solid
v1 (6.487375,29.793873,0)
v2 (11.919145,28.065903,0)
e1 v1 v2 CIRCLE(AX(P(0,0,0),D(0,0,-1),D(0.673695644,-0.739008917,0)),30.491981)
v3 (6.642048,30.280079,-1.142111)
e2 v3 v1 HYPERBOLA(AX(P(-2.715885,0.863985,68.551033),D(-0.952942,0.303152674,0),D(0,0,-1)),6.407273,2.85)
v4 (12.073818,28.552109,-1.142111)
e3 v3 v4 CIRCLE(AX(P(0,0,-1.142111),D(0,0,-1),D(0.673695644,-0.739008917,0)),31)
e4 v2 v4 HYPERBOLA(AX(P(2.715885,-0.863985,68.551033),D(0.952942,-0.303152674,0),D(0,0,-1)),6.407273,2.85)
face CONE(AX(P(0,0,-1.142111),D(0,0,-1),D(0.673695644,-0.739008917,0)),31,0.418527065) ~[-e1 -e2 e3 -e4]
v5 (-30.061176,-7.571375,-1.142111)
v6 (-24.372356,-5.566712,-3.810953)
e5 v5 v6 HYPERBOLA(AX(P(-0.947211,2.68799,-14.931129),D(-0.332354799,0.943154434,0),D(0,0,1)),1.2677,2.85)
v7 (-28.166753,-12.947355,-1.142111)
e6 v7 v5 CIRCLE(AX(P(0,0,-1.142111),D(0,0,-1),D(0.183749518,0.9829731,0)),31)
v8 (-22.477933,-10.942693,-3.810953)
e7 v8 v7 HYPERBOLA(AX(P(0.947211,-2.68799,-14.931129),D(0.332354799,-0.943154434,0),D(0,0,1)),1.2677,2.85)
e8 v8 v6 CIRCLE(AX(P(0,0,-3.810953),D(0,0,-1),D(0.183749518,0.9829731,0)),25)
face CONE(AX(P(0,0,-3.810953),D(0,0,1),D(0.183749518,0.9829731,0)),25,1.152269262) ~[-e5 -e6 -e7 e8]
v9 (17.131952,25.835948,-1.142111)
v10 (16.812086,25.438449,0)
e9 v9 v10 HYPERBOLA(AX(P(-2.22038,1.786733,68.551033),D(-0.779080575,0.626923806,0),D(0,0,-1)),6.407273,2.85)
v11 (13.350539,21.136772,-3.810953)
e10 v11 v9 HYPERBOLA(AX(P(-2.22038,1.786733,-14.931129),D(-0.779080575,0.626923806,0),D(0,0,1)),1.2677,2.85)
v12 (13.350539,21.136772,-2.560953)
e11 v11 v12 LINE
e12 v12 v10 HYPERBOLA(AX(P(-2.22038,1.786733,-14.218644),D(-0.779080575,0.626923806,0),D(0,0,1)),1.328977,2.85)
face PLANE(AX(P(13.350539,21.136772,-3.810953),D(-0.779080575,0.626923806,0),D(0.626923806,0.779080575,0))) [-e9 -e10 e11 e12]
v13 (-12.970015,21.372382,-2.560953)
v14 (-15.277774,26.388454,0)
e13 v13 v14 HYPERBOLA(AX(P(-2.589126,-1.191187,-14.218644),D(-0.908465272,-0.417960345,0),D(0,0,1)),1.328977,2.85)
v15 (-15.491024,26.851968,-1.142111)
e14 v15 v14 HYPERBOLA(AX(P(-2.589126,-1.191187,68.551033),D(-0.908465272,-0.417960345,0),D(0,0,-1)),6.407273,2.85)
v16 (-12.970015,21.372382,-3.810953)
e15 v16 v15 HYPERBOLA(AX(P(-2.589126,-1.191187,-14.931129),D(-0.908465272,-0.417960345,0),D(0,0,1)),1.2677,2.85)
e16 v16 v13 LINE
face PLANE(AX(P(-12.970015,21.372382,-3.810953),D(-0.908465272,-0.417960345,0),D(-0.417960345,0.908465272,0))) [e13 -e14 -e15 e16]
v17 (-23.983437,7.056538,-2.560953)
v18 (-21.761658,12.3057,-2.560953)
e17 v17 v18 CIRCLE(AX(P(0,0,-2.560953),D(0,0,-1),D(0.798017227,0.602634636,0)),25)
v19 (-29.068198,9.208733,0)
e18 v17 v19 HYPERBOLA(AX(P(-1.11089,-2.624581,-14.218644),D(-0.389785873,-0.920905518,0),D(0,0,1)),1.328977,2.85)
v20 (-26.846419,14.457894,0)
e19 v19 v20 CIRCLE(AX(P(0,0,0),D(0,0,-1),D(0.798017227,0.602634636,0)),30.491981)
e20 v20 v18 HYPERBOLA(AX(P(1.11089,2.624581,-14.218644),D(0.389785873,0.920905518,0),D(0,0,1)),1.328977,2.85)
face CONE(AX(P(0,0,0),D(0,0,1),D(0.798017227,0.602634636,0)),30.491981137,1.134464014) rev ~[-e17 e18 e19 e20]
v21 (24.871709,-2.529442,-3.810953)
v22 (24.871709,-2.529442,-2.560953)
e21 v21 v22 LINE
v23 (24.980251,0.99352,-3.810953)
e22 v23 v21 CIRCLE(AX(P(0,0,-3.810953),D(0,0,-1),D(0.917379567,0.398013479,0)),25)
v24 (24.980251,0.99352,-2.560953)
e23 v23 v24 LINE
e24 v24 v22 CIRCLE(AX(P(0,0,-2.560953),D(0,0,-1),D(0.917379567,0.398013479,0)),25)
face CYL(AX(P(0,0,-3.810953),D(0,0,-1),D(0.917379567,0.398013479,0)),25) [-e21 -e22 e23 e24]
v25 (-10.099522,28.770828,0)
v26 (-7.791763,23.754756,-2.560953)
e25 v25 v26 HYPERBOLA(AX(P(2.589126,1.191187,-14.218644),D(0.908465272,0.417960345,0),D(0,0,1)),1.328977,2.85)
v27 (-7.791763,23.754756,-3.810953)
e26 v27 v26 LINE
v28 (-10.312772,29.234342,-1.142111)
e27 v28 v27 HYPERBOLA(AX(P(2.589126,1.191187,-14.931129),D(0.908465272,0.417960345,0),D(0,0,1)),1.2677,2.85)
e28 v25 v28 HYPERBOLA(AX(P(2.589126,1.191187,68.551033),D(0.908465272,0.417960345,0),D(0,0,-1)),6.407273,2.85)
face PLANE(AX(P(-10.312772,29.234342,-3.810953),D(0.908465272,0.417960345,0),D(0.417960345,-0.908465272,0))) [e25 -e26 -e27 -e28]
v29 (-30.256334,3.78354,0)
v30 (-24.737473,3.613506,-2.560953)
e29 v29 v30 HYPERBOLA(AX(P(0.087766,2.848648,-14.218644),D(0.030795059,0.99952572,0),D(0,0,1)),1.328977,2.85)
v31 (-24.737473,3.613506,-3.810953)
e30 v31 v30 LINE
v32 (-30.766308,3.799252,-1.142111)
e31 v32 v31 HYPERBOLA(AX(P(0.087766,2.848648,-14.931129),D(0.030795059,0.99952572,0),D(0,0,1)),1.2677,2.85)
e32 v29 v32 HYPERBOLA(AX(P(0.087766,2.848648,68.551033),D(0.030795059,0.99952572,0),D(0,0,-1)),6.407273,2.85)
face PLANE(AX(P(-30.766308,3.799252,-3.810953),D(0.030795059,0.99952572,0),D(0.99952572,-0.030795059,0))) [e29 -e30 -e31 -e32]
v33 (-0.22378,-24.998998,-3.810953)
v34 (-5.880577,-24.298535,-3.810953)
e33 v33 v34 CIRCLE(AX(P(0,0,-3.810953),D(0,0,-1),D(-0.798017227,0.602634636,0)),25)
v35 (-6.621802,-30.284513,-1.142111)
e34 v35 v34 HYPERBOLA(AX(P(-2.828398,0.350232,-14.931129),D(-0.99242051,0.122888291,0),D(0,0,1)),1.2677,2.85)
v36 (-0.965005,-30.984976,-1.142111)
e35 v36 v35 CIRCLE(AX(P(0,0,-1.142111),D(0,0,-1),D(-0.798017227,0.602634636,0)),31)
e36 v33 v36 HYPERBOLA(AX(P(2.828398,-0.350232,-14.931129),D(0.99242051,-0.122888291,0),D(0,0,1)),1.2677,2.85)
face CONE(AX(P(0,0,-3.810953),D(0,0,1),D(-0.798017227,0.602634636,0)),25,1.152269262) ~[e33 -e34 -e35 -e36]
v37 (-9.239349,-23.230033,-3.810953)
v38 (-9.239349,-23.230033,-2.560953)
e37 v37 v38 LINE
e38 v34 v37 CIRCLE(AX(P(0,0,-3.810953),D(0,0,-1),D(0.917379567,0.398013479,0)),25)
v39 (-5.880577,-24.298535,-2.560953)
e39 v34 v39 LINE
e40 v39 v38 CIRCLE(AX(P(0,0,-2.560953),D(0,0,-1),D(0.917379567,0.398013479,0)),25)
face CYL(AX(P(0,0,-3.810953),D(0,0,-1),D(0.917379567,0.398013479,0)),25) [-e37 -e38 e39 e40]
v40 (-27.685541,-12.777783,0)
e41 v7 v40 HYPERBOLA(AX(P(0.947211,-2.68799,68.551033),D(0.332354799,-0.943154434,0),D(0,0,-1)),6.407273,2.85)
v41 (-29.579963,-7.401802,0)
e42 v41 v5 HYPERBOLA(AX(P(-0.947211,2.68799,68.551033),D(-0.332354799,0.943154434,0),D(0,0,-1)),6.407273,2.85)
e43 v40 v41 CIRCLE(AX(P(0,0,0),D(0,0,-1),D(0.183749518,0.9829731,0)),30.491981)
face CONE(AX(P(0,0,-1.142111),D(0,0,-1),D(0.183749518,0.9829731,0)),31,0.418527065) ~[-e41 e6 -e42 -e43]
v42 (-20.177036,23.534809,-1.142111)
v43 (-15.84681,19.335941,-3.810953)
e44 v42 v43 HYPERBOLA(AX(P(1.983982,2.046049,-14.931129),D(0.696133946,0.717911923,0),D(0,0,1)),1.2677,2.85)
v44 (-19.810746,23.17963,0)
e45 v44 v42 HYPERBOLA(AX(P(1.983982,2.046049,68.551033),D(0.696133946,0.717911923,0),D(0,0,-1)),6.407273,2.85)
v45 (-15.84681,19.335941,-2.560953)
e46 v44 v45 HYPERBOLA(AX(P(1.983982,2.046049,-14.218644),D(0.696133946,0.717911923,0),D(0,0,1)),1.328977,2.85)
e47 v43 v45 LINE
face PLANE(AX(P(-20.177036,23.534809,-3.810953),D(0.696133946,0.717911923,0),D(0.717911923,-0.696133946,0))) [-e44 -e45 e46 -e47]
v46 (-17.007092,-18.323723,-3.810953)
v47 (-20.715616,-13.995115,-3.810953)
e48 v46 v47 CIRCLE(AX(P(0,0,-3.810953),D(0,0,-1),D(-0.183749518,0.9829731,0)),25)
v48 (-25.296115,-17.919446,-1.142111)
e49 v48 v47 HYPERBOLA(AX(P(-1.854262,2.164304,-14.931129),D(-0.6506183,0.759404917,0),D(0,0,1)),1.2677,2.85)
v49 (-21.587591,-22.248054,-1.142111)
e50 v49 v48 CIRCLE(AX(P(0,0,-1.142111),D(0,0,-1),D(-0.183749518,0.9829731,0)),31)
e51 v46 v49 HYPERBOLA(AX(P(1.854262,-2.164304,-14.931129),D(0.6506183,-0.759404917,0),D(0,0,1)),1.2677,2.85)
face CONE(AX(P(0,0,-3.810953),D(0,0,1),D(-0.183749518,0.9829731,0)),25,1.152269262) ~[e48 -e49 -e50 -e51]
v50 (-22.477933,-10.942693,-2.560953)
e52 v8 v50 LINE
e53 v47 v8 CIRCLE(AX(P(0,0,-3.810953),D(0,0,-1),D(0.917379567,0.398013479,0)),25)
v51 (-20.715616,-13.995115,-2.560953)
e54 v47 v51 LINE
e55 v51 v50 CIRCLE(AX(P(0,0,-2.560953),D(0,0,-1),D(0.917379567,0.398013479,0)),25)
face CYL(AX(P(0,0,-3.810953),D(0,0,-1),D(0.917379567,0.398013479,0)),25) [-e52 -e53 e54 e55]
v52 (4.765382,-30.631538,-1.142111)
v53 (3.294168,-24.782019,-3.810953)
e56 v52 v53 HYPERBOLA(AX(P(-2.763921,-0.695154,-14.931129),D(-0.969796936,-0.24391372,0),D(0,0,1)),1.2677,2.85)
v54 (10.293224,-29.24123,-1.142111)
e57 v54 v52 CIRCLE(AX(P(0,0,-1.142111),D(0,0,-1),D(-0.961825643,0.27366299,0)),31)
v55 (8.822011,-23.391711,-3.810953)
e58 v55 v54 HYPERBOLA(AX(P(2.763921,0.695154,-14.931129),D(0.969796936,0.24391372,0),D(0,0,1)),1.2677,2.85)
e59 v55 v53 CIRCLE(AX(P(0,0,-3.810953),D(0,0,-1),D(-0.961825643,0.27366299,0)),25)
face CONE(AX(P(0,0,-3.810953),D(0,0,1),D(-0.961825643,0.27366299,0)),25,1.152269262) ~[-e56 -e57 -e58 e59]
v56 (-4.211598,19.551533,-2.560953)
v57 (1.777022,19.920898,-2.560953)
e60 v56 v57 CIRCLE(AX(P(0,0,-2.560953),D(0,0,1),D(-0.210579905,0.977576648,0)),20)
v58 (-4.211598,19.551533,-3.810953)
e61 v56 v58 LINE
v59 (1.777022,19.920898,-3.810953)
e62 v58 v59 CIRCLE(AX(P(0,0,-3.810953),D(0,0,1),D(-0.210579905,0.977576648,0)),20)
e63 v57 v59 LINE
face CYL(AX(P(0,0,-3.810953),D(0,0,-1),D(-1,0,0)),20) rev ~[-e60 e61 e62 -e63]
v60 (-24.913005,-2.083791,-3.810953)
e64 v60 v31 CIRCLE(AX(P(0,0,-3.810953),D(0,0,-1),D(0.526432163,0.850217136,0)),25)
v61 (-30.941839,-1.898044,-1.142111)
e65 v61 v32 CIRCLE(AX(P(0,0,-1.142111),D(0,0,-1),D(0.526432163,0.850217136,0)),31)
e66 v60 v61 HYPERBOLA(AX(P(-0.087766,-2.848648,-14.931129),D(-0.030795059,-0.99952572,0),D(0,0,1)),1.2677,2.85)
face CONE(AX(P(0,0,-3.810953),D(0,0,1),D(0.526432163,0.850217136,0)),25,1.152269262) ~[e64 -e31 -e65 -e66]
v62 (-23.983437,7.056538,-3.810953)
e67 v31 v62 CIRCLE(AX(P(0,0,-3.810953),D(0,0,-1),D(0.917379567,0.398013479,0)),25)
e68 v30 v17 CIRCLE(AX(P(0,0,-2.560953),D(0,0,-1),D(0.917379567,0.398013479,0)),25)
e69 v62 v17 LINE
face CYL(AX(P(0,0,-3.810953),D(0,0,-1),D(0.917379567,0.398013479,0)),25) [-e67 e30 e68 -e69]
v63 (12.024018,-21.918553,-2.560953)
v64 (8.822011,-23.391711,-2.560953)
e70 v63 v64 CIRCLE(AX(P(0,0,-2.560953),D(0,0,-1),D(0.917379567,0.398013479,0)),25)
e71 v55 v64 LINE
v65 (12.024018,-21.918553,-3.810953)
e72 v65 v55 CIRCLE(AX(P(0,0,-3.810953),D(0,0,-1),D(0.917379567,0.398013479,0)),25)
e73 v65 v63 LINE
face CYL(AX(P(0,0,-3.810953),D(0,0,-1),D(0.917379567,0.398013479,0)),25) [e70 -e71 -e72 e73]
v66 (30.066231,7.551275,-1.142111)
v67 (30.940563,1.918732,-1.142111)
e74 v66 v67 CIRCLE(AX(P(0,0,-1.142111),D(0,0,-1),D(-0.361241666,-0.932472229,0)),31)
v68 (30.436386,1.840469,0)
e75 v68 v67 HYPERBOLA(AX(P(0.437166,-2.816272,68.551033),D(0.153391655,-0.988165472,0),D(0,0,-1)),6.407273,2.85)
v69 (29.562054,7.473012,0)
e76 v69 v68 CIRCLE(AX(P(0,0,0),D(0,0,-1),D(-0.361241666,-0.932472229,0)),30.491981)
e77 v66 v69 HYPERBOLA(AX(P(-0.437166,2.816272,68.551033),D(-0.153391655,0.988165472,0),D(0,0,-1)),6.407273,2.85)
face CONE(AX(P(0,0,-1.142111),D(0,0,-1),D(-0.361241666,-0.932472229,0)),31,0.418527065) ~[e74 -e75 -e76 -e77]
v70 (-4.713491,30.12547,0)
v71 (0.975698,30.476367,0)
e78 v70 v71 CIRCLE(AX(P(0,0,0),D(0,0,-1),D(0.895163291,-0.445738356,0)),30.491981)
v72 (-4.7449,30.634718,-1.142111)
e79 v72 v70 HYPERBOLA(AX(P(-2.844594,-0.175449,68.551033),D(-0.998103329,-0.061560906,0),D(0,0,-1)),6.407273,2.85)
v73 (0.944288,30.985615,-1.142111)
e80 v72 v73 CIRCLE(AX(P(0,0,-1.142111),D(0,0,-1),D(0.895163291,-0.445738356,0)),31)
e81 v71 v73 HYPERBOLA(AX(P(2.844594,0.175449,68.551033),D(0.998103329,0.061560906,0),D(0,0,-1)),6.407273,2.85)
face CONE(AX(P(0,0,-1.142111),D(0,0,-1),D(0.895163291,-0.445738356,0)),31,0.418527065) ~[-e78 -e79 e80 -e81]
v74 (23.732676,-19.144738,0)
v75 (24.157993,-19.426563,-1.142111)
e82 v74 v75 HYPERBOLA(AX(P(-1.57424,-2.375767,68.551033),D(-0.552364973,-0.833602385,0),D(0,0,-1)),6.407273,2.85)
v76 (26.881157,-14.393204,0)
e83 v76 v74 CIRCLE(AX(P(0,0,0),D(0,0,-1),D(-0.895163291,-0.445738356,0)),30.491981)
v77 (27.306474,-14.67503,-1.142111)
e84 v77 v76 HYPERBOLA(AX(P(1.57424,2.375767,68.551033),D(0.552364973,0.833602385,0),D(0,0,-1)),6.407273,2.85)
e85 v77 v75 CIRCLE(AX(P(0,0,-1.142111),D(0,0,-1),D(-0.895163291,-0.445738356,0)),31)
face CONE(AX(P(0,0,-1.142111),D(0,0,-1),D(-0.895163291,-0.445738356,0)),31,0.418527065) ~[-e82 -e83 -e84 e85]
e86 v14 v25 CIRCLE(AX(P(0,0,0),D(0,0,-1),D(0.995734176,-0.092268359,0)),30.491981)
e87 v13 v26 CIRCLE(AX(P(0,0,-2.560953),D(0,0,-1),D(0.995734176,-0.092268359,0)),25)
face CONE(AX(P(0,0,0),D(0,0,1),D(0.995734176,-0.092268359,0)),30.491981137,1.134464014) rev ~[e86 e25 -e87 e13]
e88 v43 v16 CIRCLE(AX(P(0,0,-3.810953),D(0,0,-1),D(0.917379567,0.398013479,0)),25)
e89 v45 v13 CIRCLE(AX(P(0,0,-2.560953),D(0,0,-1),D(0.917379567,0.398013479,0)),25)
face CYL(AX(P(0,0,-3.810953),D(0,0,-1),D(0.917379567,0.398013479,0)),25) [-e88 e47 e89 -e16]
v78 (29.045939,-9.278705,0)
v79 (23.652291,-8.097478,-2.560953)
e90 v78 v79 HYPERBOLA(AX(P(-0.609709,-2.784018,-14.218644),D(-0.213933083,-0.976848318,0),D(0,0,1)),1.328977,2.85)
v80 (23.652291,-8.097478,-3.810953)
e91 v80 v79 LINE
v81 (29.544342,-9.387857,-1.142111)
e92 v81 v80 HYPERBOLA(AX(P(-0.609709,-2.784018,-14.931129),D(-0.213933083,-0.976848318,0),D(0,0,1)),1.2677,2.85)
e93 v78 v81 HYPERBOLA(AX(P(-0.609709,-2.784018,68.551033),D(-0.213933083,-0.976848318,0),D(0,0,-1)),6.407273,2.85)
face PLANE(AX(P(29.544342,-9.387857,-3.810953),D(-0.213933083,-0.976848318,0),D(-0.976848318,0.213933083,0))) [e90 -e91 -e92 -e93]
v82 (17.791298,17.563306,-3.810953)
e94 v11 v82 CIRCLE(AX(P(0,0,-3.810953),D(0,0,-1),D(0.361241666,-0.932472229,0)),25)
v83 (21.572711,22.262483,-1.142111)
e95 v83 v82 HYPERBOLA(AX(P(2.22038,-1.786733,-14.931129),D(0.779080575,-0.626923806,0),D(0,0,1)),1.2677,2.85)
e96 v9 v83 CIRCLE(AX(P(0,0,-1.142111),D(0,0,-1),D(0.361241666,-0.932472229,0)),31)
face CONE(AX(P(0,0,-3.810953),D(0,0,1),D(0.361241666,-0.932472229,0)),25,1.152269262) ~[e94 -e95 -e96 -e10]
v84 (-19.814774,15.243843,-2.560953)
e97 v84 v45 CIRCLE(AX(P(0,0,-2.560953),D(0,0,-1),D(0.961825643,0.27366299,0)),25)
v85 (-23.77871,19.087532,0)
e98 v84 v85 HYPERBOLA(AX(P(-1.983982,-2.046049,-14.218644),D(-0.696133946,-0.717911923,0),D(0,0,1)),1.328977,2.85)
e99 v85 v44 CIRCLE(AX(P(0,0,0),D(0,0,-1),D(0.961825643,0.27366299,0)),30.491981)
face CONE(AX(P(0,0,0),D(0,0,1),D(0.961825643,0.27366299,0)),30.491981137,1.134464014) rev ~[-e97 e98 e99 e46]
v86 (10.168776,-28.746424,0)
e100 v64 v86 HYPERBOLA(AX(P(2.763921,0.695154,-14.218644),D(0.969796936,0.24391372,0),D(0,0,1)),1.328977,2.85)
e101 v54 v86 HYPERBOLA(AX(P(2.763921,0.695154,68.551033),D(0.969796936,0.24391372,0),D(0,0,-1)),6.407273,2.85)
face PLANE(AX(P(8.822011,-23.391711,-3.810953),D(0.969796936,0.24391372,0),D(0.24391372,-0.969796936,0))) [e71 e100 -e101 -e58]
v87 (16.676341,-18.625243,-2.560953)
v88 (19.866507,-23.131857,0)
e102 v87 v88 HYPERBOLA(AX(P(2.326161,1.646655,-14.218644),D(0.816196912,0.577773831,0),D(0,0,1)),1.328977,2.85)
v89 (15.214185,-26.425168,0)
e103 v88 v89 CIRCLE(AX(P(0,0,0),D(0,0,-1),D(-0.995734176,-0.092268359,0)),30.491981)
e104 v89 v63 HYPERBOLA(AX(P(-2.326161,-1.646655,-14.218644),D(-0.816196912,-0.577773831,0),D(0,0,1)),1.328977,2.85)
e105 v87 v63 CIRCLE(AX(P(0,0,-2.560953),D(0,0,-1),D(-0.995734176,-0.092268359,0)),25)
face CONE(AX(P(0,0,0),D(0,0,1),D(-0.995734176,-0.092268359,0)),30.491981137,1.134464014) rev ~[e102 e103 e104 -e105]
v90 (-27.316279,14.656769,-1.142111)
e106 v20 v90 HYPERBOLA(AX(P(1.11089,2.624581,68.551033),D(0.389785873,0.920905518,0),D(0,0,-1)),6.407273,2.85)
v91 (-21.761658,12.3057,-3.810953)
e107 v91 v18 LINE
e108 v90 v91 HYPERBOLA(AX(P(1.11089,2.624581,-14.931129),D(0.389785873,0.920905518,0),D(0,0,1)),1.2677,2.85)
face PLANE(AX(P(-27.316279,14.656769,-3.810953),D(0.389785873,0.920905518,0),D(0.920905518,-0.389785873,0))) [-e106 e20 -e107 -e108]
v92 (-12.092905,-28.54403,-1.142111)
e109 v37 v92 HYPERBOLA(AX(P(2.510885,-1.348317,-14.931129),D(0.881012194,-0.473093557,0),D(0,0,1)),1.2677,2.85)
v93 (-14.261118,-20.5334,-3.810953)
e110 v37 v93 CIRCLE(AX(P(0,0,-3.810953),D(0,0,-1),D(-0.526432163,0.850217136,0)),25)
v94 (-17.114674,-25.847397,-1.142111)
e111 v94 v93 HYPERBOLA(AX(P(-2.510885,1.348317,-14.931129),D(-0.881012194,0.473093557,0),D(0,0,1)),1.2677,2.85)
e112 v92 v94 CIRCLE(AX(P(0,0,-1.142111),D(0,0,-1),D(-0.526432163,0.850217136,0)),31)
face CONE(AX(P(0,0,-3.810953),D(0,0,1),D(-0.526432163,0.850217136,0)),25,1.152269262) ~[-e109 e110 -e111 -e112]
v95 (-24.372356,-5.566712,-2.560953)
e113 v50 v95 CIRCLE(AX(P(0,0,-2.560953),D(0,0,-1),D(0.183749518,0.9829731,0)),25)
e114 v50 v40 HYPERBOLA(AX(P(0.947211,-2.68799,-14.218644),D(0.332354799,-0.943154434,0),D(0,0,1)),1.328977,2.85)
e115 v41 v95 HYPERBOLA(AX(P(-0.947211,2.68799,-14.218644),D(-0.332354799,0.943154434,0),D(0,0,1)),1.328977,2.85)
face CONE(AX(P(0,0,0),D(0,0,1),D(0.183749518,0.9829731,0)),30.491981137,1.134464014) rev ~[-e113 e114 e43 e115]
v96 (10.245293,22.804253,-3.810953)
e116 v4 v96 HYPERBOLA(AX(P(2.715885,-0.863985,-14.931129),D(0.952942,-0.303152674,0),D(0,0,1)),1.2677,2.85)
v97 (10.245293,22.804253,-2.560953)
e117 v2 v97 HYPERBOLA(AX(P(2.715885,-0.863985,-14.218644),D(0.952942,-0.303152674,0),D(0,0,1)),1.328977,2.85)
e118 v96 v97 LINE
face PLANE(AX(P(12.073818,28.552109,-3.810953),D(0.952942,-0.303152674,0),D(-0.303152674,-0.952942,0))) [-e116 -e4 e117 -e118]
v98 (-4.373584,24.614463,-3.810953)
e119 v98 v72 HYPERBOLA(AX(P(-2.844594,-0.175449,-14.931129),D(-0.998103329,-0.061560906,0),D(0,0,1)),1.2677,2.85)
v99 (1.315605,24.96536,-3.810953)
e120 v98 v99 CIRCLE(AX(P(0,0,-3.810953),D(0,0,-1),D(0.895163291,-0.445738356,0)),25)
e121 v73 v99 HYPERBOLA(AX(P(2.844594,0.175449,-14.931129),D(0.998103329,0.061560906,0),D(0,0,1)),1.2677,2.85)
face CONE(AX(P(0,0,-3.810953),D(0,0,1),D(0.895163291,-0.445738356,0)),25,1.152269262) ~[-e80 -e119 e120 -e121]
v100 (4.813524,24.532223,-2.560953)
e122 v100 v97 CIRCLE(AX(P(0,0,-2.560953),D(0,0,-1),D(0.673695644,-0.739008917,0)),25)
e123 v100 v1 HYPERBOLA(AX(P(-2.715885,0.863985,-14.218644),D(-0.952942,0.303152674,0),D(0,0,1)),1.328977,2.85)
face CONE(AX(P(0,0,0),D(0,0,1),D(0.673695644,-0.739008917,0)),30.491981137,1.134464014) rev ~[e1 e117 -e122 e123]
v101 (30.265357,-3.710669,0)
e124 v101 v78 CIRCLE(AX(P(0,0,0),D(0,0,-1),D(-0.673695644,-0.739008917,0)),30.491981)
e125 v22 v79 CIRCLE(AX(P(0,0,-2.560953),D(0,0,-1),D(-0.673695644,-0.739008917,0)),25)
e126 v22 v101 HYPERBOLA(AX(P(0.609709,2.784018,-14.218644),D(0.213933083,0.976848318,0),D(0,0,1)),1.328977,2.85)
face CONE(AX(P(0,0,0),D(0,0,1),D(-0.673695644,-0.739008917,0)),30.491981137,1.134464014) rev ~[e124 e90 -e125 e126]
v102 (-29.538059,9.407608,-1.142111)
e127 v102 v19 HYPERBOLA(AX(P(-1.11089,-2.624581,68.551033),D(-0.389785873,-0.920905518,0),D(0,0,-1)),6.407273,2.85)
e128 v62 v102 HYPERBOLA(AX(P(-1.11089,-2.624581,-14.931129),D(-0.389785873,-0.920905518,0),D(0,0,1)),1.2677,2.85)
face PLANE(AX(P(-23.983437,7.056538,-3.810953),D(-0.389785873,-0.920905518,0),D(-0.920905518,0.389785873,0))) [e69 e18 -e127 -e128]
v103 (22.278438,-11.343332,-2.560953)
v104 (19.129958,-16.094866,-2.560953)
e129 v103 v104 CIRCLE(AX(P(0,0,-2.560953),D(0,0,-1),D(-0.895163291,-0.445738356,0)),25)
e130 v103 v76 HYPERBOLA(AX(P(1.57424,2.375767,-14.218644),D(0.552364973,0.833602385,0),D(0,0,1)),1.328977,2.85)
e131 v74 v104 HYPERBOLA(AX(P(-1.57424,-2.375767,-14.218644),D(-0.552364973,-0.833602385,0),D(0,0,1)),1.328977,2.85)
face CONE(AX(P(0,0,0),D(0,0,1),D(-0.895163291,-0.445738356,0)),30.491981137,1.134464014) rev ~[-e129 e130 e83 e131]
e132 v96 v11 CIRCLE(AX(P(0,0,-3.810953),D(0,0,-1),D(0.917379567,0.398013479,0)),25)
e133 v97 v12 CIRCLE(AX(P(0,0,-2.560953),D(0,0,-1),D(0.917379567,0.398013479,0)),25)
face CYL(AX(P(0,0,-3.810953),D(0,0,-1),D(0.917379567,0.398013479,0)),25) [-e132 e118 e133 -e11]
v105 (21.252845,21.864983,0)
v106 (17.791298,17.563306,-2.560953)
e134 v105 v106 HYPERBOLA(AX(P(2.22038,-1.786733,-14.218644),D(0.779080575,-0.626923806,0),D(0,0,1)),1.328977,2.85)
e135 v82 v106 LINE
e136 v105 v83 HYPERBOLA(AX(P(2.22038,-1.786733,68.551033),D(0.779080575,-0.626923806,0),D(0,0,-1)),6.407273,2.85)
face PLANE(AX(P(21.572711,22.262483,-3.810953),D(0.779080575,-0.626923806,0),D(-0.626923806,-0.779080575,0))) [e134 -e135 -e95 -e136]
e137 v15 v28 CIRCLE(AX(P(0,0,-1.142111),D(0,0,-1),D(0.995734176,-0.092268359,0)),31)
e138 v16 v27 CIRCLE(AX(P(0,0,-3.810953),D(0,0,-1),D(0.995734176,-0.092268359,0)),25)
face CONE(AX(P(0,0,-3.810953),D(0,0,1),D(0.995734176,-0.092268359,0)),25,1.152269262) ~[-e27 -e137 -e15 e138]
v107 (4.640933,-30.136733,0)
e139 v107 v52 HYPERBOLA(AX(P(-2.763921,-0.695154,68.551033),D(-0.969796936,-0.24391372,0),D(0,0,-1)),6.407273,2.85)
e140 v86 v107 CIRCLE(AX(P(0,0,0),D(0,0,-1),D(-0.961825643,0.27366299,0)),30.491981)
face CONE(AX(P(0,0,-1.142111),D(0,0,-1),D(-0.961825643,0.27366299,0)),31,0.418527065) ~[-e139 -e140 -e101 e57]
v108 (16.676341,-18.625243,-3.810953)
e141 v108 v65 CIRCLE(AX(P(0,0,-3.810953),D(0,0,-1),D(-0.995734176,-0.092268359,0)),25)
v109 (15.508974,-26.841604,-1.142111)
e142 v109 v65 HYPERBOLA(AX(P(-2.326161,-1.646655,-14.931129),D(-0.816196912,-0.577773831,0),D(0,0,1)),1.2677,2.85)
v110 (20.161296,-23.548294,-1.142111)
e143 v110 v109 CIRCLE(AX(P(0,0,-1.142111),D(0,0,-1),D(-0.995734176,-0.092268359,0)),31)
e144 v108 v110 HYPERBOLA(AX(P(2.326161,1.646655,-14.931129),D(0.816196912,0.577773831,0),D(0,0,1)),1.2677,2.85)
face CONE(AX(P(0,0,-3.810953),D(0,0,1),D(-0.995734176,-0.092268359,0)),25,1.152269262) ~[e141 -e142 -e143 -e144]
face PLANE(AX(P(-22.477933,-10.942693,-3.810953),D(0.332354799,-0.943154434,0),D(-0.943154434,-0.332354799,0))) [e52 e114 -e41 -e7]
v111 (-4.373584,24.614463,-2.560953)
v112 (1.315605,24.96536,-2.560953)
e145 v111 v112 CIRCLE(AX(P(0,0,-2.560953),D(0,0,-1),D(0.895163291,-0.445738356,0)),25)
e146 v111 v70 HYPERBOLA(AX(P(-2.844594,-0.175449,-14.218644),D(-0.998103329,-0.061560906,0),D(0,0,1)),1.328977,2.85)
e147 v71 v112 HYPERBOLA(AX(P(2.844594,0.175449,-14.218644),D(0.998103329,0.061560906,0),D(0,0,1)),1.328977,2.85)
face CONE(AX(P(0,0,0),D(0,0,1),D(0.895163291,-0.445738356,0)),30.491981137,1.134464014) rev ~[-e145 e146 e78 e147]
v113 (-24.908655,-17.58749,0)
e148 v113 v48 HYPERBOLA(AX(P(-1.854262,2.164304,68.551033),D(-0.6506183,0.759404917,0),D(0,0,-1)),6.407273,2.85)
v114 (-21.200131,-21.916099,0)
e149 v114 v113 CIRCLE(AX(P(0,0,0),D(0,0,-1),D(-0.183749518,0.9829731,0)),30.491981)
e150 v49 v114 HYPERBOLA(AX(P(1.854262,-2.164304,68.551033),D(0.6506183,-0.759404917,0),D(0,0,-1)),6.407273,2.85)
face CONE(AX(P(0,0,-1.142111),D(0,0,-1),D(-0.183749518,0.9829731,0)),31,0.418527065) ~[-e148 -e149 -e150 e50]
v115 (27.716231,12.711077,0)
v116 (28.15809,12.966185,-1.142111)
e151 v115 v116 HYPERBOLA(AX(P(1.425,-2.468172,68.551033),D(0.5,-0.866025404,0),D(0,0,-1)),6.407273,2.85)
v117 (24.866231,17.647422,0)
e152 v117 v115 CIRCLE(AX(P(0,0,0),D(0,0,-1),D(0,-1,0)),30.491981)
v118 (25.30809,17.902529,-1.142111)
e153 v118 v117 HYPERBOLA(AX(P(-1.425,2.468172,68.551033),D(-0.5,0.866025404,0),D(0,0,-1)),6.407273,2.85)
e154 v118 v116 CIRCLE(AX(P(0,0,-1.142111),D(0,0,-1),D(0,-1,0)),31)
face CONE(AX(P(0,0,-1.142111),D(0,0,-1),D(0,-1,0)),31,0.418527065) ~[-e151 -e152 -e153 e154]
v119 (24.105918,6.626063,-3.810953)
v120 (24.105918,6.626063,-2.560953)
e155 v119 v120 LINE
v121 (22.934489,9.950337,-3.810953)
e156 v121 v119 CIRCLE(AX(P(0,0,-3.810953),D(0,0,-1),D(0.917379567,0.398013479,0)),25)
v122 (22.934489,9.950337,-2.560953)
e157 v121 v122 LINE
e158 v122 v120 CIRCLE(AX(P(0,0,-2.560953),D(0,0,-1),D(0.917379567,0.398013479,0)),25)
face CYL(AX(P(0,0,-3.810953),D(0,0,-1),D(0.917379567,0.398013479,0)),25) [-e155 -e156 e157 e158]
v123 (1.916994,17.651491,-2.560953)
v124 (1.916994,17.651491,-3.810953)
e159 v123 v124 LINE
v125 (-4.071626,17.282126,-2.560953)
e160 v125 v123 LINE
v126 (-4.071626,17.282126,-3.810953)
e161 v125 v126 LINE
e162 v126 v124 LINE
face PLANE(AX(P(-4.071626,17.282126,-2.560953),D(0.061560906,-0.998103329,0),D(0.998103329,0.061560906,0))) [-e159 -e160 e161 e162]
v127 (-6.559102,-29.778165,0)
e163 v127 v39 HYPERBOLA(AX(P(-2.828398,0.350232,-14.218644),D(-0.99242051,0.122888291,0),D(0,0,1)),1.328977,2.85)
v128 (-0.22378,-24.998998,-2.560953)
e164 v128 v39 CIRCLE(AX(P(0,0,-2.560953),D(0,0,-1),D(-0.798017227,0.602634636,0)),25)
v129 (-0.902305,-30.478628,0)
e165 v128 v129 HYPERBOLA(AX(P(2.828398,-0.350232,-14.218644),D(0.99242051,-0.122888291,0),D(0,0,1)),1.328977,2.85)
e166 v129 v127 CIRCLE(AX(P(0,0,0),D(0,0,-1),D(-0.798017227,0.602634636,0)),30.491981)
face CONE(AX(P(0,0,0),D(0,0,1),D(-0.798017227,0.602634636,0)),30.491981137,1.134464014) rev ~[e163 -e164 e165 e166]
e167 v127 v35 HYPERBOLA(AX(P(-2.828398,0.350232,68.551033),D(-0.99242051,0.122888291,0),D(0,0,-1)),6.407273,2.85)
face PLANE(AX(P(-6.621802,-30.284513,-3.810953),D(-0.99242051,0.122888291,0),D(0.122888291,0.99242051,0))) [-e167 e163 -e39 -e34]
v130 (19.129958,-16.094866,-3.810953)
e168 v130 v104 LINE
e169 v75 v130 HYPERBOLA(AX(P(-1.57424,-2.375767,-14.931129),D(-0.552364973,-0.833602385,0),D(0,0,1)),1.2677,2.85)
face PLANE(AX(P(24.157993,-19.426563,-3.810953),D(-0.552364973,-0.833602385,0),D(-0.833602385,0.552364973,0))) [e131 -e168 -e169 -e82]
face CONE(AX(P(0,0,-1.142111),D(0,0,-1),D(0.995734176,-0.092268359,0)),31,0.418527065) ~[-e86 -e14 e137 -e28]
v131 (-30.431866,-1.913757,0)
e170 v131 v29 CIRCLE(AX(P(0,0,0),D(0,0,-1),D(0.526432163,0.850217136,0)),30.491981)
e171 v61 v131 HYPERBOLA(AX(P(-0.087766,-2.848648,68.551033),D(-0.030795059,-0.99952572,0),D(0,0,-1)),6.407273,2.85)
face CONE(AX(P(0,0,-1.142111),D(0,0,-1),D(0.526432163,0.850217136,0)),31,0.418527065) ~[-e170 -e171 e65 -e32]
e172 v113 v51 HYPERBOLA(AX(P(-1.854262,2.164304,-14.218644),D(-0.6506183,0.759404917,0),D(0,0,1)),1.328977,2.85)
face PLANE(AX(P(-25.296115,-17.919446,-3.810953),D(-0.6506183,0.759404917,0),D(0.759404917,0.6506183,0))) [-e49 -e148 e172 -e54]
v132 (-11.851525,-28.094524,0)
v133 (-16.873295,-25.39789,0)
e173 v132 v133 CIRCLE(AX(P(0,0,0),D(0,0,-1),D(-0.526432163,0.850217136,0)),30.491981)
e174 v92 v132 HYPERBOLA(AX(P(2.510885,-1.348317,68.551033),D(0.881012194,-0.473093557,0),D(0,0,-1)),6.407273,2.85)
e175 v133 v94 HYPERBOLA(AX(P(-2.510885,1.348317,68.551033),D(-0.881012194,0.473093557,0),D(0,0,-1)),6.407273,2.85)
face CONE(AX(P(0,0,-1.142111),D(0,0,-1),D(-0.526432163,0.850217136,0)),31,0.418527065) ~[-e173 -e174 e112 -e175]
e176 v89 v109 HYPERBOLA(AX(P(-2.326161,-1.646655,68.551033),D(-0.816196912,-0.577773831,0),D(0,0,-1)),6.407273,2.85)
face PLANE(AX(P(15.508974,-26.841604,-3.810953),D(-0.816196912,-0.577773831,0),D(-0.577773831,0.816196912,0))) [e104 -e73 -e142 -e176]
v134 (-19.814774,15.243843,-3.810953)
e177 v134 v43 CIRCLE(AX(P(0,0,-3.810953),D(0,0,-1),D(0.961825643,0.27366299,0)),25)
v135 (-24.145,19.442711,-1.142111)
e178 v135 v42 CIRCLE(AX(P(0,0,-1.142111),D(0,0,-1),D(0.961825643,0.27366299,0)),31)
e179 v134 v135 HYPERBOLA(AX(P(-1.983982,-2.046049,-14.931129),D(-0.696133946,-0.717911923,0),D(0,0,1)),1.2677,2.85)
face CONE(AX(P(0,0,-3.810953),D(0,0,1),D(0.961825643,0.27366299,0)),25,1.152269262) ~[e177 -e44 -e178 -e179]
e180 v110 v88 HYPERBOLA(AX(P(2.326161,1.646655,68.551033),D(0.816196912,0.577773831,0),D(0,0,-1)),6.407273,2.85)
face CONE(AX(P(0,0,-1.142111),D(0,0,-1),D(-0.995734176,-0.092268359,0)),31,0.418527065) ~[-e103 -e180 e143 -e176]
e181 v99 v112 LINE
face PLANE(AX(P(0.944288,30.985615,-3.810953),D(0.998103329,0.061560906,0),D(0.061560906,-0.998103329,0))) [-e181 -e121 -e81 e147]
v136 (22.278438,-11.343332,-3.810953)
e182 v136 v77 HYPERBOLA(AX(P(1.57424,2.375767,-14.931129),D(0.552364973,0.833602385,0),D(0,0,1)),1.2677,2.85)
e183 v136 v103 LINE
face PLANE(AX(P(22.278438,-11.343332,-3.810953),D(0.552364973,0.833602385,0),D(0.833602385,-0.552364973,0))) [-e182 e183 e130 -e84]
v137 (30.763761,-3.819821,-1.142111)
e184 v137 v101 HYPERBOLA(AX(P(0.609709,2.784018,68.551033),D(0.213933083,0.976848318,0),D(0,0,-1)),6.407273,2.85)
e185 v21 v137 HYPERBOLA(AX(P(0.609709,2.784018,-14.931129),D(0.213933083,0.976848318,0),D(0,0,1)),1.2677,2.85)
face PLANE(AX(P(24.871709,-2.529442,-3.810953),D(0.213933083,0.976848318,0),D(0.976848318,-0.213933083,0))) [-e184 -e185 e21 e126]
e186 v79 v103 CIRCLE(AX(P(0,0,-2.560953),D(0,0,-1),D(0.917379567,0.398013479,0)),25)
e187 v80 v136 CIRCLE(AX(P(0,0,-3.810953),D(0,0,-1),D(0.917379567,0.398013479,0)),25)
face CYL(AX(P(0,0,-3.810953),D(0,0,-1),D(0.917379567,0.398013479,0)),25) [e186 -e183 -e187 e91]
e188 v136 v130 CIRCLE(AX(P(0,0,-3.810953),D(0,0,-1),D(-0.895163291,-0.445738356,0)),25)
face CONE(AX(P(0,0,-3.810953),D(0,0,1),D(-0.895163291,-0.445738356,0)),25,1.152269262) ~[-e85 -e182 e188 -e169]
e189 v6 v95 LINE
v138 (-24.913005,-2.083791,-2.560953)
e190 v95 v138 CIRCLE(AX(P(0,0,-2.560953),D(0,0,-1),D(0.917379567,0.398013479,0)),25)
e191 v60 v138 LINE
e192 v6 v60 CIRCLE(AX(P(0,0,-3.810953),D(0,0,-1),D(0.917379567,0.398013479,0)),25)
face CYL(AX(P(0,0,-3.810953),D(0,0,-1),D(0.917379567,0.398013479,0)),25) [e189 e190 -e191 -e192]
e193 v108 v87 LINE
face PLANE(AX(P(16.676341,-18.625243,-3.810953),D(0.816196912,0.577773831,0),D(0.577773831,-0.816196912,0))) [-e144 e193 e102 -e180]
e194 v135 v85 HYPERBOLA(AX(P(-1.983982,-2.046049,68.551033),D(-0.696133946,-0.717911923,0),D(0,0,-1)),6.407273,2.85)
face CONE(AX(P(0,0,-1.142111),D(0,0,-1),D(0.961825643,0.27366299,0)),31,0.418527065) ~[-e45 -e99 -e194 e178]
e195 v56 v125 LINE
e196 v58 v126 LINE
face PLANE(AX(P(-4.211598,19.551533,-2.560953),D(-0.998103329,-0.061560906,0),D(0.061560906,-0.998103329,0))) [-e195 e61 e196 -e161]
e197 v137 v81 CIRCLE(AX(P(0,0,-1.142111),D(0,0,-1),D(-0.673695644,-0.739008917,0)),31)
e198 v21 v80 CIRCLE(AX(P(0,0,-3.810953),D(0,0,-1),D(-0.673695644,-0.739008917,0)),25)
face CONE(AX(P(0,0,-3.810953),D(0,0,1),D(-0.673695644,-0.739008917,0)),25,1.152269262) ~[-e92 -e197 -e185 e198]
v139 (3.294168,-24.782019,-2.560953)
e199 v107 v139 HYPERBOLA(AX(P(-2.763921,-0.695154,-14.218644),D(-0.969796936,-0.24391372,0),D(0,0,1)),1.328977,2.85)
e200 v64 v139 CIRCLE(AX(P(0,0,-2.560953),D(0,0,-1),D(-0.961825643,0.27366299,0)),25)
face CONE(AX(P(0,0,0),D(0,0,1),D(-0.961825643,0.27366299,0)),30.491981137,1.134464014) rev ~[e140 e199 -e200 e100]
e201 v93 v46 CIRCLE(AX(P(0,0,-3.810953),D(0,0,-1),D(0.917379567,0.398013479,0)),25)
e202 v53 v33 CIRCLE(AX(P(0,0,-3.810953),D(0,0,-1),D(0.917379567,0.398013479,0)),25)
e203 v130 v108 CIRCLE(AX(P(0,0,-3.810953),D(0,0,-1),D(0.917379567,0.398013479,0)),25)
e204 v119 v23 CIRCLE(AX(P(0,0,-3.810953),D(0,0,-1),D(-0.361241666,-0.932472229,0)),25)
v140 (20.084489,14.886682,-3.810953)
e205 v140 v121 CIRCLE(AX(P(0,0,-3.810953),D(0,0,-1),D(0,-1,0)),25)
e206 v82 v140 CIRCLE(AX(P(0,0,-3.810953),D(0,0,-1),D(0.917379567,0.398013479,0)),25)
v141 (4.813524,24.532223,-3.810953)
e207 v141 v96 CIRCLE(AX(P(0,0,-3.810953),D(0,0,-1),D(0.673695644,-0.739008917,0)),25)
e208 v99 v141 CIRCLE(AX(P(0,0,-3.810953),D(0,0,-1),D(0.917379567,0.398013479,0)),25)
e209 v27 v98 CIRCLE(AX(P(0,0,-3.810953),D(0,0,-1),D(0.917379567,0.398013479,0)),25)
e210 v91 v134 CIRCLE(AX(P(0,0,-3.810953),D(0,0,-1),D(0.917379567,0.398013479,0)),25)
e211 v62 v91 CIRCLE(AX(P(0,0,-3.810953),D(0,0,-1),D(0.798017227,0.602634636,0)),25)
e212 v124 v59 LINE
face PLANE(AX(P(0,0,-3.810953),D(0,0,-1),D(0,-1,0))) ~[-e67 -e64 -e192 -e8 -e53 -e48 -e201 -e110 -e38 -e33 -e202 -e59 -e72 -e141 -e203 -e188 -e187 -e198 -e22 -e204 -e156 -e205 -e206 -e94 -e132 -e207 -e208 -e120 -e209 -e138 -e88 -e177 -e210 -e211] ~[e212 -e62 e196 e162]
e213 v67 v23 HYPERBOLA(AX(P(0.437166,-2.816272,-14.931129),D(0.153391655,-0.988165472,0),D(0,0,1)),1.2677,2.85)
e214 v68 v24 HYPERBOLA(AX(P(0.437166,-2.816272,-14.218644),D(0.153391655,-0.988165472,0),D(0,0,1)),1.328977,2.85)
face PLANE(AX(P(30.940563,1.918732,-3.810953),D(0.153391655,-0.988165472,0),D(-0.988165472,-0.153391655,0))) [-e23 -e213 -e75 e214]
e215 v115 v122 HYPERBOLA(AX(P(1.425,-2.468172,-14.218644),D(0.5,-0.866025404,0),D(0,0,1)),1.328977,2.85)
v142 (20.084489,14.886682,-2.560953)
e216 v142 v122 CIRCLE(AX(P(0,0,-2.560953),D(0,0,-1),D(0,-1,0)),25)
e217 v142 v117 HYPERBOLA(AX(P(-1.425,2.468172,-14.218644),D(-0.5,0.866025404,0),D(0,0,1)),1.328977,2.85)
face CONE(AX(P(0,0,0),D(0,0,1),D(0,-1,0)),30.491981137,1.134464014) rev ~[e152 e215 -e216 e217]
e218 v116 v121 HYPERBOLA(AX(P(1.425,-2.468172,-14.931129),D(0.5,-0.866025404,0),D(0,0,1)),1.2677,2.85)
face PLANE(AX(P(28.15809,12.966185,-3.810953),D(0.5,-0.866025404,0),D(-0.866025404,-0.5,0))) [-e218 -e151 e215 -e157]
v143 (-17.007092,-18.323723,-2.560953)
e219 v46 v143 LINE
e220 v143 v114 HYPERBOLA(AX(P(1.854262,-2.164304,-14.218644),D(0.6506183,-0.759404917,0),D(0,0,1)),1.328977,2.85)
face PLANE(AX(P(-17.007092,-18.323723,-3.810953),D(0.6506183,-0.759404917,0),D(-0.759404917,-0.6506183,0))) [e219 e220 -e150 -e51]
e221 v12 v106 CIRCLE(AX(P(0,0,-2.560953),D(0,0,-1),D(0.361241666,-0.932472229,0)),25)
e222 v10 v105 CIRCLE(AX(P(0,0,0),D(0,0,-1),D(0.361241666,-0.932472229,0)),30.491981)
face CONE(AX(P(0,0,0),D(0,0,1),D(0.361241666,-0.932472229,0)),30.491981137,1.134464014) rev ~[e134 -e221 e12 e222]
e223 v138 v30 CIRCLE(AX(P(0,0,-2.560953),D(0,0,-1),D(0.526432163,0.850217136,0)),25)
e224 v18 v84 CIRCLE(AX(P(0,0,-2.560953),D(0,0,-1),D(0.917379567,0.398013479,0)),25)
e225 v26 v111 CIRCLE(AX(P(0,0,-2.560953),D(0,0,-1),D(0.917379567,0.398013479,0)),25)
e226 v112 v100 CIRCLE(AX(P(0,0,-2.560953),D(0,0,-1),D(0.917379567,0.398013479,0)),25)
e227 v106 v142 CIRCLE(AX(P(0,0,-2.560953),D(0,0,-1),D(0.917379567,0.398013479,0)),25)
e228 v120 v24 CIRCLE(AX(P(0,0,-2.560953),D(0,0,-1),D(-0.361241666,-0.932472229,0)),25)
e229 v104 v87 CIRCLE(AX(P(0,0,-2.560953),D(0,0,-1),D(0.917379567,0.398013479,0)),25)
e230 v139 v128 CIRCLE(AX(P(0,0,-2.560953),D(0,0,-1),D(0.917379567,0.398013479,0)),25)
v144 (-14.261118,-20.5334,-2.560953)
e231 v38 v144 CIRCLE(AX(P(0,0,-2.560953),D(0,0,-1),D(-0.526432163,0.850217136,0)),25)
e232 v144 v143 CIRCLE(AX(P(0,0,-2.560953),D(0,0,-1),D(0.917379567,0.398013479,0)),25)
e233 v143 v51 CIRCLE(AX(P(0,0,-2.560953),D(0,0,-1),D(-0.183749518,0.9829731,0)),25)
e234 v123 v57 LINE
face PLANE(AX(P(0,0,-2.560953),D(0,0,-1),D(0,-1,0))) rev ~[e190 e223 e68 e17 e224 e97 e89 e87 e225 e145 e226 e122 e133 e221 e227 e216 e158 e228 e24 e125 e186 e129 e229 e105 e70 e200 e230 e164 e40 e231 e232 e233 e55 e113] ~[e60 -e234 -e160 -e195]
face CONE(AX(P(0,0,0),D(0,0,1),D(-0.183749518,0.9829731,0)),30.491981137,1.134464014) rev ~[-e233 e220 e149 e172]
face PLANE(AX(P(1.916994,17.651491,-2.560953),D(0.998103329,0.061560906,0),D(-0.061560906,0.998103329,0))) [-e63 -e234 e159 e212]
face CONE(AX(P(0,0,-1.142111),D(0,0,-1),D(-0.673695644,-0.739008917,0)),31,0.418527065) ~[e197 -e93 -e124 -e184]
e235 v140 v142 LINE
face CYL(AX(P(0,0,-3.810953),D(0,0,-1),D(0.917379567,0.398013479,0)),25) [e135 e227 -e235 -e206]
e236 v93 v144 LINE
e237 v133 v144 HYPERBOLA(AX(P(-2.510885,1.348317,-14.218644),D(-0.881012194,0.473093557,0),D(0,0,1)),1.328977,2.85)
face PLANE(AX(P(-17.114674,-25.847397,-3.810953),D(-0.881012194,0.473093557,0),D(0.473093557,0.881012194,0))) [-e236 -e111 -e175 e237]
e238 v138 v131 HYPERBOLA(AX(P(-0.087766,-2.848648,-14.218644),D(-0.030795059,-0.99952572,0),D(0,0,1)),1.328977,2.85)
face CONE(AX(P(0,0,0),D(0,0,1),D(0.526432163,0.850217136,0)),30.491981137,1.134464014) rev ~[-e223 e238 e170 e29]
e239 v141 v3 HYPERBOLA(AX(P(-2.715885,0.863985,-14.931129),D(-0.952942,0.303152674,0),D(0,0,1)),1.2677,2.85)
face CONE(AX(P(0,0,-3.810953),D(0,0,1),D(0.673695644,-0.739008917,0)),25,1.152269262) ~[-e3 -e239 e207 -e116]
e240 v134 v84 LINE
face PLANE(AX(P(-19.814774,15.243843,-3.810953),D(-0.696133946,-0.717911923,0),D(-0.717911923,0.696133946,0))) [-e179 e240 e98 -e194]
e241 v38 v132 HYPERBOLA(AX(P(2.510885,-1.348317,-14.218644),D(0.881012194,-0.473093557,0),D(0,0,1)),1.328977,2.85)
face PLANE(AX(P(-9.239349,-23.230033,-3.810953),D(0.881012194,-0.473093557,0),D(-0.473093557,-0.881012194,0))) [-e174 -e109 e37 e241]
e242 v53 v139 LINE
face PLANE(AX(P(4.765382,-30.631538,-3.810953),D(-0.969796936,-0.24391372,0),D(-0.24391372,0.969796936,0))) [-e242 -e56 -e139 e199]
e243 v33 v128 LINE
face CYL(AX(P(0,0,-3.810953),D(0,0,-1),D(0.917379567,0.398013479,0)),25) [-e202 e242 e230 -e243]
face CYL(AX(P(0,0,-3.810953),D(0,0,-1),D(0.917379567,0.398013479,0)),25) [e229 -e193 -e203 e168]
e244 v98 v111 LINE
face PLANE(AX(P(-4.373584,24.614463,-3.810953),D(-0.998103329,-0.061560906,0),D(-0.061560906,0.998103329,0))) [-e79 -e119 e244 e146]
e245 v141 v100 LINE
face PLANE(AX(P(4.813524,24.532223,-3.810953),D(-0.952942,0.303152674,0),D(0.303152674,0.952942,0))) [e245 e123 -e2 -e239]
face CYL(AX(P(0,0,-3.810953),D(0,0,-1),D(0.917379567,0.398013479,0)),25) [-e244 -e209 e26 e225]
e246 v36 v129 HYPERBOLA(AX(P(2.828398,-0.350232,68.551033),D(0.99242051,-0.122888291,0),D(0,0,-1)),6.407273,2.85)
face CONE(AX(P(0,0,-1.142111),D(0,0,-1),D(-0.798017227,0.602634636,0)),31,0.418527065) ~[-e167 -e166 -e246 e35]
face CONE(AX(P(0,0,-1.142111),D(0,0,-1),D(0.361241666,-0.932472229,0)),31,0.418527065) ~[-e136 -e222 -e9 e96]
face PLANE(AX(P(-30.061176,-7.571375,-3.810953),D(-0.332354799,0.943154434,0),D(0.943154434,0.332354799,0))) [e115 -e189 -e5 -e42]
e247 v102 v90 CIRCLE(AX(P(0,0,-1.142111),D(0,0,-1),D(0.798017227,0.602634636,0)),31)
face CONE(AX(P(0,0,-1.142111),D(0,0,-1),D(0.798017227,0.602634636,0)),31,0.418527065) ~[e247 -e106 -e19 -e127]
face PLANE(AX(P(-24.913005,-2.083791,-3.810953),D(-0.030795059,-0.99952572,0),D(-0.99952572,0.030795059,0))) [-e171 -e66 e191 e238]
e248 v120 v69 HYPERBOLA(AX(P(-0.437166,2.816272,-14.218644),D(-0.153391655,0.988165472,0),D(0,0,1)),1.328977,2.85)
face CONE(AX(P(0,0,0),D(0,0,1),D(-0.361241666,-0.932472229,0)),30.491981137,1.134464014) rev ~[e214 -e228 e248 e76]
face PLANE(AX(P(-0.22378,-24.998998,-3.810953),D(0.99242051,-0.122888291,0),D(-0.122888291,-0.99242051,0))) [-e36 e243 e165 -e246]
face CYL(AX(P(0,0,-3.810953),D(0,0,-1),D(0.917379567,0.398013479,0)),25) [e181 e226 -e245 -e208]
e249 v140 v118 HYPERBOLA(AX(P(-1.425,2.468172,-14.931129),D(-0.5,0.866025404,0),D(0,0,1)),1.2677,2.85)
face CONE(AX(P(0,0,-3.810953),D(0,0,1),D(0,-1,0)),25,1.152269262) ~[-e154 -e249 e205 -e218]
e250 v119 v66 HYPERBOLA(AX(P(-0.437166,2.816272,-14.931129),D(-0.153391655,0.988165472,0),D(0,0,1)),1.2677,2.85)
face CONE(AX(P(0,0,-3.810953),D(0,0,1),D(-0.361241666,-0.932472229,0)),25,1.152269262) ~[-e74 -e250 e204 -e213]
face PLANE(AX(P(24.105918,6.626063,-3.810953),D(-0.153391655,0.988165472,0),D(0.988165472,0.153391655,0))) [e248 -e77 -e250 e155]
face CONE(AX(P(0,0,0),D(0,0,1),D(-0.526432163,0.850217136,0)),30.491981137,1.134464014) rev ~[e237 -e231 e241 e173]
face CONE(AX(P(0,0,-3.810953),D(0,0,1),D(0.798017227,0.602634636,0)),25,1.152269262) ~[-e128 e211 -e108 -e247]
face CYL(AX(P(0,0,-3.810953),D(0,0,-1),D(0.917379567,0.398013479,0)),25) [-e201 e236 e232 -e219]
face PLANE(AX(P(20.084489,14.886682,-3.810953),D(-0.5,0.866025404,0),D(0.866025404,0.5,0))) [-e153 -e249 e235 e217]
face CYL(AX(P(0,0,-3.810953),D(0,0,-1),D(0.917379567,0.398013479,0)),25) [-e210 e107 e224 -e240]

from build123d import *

# Parameters (mm, degrees)
SKETCH2_OUTSIDE_W        = 81.552
SKETCH2_OUTSIDE_H        = 81.552
SKETCH2_OUTSIDE_R        = 20
CUT_EXTRUDE_DEPTH        = 4.810952862
PATTERN_CIRCULAR_4_COUNT = 17
EXTRUDE_1_DEPTH          = 1.25


with BuildPart() as part:
    # Sketch1 → Base-Extrude (revolve)
    with BuildSketch(Plane.YZ):
        Polygon((0, -3.810952863), (-25, -3.810952863), (-31, -1.142110693), (-30.491981137, 0), (-25, -2.560952863), (0, -2.560952863), align=None)
    revolve(axis=Axis((0, 0, 5.823648763), (0, 0, -1)))

    # Sketch2 outside → Cut-Extrude (cut, through all)
    with BuildSketch(Plane(origin=(-2.40435344, 1.003568156, -3.810952862), x_dir=(-1, 0, 0), z_dir=(0, 0, -1))):
        with Locations((-2.404, -1.004)):
            Rectangle(SKETCH2_OUTSIDE_W, SKETCH2_OUTSIDE_H)
        with BuildLine():
            Line((-22.488842625, 13.883113616), (-27.712443889, 16.898961212))
            ThreePointArc((-27.712443889, 16.898961212), (-29.251140957, 14.496431844), (-30.562443889, 11.96261641))
            Line((-30.562443889, 11.96261641), (-25.338842625, 8.946768814))
            ThreePointArc((-25.338842625, 8.946768814), (19.246281655, -13.503568156), (-22.488842625, 13.883113616))
        make_face(mode=Mode.SUBTRACT)
        with Locations((-2.40435344, -1.003568156)):
            Circle(SKETCH2_OUTSIDE_R)
    extrude(amount=-CUT_EXTRUDE_DEPTH, mode=Mode.SUBTRACT)


with BuildPart() as pattern_circular_4_1:
    # 阵列(圆周)4: pattern copy
    add(part.part.rotate(Axis((0, 0, 0), (0, 0, 1)), 1 * 360 / PATTERN_CIRCULAR_4_COUNT))


with BuildPart() as pattern_circular_4_2:
    # 阵列(圆周)4: pattern copy
    add(part.part.rotate(Axis((0, 0, 0), (0, 0, 1)), 2 * 360 / PATTERN_CIRCULAR_4_COUNT))


with BuildPart() as pattern_circular_4_3:
    # 阵列(圆周)4: pattern copy
    add(part.part.rotate(Axis((0, 0, 0), (0, 0, 1)), 3 * 360 / PATTERN_CIRCULAR_4_COUNT))


with BuildPart() as pattern_circular_4_4:
    # 阵列(圆周)4: pattern copy
    add(part.part.rotate(Axis((0, 0, 0), (0, 0, 1)), 4 * 360 / PATTERN_CIRCULAR_4_COUNT))


with BuildPart() as pattern_circular_4_5:
    # 阵列(圆周)4: pattern copy
    add(part.part.rotate(Axis((0, 0, 0), (0, 0, 1)), 5 * 360 / PATTERN_CIRCULAR_4_COUNT))


with BuildPart() as pattern_circular_4_6:
    # 阵列(圆周)4: pattern copy
    add(part.part.rotate(Axis((0, 0, 0), (0, 0, 1)), 6 * 360 / PATTERN_CIRCULAR_4_COUNT))


with BuildPart() as pattern_circular_4_7:
    # 阵列(圆周)4: pattern copy
    add(part.part.rotate(Axis((0, 0, 0), (0, 0, 1)), 7 * 360 / PATTERN_CIRCULAR_4_COUNT))


with BuildPart() as pattern_circular_4_8:
    # 阵列(圆周)4: pattern copy
    add(part.part.rotate(Axis((0, 0, 0), (0, 0, 1)), 8 * 360 / PATTERN_CIRCULAR_4_COUNT))


with BuildPart() as pattern_circular_4_9:
    # 阵列(圆周)4: pattern copy
    add(part.part.rotate(Axis((0, 0, 0), (0, 0, 1)), 9 * 360 / PATTERN_CIRCULAR_4_COUNT))


with BuildPart() as pattern_circular_4_10:
    # 阵列(圆周)4: pattern copy
    add(part.part.rotate(Axis((0, 0, 0), (0, 0, 1)), 10 * 360 / PATTERN_CIRCULAR_4_COUNT))


with BuildPart() as pattern_circular_4_11:
    # 阵列(圆周)4: pattern copy
    add(part.part.rotate(Axis((0, 0, 0), (0, 0, 1)), 11 * 360 / PATTERN_CIRCULAR_4_COUNT))


with BuildPart() as pattern_circular_4_12:
    # 阵列(圆周)4: pattern copy
    add(part.part.rotate(Axis((0, 0, 0), (0, 0, 1)), 12 * 360 / PATTERN_CIRCULAR_4_COUNT))


with BuildPart() as pattern_circular_4_13:
    # 阵列(圆周)4: pattern copy
    add(part.part.rotate(Axis((0, 0, 0), (0, 0, 1)), 13 * 360 / PATTERN_CIRCULAR_4_COUNT))


with BuildPart() as pattern_circular_4_14:
    # 阵列(圆周)4: pattern copy
    add(part.part.rotate(Axis((0, 0, 0), (0, 0, 1)), 14 * 360 / PATTERN_CIRCULAR_4_COUNT))


with BuildPart() as pattern_circular_4_15:
    # 阵列(圆周)4: pattern copy
    add(part.part.rotate(Axis((0, 0, 0), (0, 0, 1)), 15 * 360 / PATTERN_CIRCULAR_4_COUNT))


with BuildPart() as pattern_circular_4_16:
    # 阵列(圆周)4: pattern copy
    add(part.part.rotate(Axis((0, 0, 0), (0, 0, 1)), 16 * 360 / PATTERN_CIRCULAR_4_COUNT))


with BuildPart() as part_1:
    add(part.part)

    add(pattern_circular_4_1.part)  # 凸台-拉伸1 merges 阵列(圆周)4_1

    add(pattern_circular_4_2.part)  # 凸台-拉伸1 merges 阵列(圆周)4_2

    add(pattern_circular_4_3.part)  # 凸台-拉伸1 merges 阵列(圆周)4_3

    add(pattern_circular_4_4.part)  # 凸台-拉伸1 merges 阵列(圆周)4_4

    add(pattern_circular_4_5.part)  # 凸台-拉伸1 merges 阵列(圆周)4_5

    add(pattern_circular_4_6.part)  # 凸台-拉伸1 merges 阵列(圆周)4_6

    add(pattern_circular_4_7.part)  # 凸台-拉伸1 merges 阵列(圆周)4_7

    add(pattern_circular_4_8.part)  # 凸台-拉伸1 merges 阵列(圆周)4_8

    add(pattern_circular_4_9.part)  # 凸台-拉伸1 merges 阵列(圆周)4_9

    add(pattern_circular_4_10.part)  # 凸台-拉伸1 merges 阵列(圆周)4_10

    add(pattern_circular_4_11.part)  # 凸台-拉伸1 merges 阵列(圆周)4_11

    add(pattern_circular_4_12.part)  # 凸台-拉伸1 merges 阵列(圆周)4_12

    add(pattern_circular_4_13.part)  # 凸台-拉伸1 merges 阵列(圆周)4_13

    add(pattern_circular_4_14.part)  # 凸台-拉伸1 merges 阵列(圆周)4_14

    add(pattern_circular_4_15.part)  # 凸台-拉伸1 merges 阵列(圆周)4_15

    add(pattern_circular_4_16.part)  # 凸台-拉伸1 merges 阵列(圆周)4_16
    # 草图2 → 凸台-拉伸1 (add)
    with BuildSketch(Plane.XY.offset(-2.560952863)):
        with BuildLine():
            Line((1.916994129, 17.651490971), (1.777021869, 19.920898405))
            ThreePointArc((1.777021869, 19.920898405), (-1.231218123, 19.962066575), (-4.211598103, 19.551532969))
            Line((-4.211598103, 19.551532969), (-4.071625844, 17.282125534))
            Line((-4.071625844, 17.282125534), (1.916994129, 17.651490971))
        make_face()
    extrude(amount=-EXTRUDE_1_DEPTH)


solid = part_1.part
